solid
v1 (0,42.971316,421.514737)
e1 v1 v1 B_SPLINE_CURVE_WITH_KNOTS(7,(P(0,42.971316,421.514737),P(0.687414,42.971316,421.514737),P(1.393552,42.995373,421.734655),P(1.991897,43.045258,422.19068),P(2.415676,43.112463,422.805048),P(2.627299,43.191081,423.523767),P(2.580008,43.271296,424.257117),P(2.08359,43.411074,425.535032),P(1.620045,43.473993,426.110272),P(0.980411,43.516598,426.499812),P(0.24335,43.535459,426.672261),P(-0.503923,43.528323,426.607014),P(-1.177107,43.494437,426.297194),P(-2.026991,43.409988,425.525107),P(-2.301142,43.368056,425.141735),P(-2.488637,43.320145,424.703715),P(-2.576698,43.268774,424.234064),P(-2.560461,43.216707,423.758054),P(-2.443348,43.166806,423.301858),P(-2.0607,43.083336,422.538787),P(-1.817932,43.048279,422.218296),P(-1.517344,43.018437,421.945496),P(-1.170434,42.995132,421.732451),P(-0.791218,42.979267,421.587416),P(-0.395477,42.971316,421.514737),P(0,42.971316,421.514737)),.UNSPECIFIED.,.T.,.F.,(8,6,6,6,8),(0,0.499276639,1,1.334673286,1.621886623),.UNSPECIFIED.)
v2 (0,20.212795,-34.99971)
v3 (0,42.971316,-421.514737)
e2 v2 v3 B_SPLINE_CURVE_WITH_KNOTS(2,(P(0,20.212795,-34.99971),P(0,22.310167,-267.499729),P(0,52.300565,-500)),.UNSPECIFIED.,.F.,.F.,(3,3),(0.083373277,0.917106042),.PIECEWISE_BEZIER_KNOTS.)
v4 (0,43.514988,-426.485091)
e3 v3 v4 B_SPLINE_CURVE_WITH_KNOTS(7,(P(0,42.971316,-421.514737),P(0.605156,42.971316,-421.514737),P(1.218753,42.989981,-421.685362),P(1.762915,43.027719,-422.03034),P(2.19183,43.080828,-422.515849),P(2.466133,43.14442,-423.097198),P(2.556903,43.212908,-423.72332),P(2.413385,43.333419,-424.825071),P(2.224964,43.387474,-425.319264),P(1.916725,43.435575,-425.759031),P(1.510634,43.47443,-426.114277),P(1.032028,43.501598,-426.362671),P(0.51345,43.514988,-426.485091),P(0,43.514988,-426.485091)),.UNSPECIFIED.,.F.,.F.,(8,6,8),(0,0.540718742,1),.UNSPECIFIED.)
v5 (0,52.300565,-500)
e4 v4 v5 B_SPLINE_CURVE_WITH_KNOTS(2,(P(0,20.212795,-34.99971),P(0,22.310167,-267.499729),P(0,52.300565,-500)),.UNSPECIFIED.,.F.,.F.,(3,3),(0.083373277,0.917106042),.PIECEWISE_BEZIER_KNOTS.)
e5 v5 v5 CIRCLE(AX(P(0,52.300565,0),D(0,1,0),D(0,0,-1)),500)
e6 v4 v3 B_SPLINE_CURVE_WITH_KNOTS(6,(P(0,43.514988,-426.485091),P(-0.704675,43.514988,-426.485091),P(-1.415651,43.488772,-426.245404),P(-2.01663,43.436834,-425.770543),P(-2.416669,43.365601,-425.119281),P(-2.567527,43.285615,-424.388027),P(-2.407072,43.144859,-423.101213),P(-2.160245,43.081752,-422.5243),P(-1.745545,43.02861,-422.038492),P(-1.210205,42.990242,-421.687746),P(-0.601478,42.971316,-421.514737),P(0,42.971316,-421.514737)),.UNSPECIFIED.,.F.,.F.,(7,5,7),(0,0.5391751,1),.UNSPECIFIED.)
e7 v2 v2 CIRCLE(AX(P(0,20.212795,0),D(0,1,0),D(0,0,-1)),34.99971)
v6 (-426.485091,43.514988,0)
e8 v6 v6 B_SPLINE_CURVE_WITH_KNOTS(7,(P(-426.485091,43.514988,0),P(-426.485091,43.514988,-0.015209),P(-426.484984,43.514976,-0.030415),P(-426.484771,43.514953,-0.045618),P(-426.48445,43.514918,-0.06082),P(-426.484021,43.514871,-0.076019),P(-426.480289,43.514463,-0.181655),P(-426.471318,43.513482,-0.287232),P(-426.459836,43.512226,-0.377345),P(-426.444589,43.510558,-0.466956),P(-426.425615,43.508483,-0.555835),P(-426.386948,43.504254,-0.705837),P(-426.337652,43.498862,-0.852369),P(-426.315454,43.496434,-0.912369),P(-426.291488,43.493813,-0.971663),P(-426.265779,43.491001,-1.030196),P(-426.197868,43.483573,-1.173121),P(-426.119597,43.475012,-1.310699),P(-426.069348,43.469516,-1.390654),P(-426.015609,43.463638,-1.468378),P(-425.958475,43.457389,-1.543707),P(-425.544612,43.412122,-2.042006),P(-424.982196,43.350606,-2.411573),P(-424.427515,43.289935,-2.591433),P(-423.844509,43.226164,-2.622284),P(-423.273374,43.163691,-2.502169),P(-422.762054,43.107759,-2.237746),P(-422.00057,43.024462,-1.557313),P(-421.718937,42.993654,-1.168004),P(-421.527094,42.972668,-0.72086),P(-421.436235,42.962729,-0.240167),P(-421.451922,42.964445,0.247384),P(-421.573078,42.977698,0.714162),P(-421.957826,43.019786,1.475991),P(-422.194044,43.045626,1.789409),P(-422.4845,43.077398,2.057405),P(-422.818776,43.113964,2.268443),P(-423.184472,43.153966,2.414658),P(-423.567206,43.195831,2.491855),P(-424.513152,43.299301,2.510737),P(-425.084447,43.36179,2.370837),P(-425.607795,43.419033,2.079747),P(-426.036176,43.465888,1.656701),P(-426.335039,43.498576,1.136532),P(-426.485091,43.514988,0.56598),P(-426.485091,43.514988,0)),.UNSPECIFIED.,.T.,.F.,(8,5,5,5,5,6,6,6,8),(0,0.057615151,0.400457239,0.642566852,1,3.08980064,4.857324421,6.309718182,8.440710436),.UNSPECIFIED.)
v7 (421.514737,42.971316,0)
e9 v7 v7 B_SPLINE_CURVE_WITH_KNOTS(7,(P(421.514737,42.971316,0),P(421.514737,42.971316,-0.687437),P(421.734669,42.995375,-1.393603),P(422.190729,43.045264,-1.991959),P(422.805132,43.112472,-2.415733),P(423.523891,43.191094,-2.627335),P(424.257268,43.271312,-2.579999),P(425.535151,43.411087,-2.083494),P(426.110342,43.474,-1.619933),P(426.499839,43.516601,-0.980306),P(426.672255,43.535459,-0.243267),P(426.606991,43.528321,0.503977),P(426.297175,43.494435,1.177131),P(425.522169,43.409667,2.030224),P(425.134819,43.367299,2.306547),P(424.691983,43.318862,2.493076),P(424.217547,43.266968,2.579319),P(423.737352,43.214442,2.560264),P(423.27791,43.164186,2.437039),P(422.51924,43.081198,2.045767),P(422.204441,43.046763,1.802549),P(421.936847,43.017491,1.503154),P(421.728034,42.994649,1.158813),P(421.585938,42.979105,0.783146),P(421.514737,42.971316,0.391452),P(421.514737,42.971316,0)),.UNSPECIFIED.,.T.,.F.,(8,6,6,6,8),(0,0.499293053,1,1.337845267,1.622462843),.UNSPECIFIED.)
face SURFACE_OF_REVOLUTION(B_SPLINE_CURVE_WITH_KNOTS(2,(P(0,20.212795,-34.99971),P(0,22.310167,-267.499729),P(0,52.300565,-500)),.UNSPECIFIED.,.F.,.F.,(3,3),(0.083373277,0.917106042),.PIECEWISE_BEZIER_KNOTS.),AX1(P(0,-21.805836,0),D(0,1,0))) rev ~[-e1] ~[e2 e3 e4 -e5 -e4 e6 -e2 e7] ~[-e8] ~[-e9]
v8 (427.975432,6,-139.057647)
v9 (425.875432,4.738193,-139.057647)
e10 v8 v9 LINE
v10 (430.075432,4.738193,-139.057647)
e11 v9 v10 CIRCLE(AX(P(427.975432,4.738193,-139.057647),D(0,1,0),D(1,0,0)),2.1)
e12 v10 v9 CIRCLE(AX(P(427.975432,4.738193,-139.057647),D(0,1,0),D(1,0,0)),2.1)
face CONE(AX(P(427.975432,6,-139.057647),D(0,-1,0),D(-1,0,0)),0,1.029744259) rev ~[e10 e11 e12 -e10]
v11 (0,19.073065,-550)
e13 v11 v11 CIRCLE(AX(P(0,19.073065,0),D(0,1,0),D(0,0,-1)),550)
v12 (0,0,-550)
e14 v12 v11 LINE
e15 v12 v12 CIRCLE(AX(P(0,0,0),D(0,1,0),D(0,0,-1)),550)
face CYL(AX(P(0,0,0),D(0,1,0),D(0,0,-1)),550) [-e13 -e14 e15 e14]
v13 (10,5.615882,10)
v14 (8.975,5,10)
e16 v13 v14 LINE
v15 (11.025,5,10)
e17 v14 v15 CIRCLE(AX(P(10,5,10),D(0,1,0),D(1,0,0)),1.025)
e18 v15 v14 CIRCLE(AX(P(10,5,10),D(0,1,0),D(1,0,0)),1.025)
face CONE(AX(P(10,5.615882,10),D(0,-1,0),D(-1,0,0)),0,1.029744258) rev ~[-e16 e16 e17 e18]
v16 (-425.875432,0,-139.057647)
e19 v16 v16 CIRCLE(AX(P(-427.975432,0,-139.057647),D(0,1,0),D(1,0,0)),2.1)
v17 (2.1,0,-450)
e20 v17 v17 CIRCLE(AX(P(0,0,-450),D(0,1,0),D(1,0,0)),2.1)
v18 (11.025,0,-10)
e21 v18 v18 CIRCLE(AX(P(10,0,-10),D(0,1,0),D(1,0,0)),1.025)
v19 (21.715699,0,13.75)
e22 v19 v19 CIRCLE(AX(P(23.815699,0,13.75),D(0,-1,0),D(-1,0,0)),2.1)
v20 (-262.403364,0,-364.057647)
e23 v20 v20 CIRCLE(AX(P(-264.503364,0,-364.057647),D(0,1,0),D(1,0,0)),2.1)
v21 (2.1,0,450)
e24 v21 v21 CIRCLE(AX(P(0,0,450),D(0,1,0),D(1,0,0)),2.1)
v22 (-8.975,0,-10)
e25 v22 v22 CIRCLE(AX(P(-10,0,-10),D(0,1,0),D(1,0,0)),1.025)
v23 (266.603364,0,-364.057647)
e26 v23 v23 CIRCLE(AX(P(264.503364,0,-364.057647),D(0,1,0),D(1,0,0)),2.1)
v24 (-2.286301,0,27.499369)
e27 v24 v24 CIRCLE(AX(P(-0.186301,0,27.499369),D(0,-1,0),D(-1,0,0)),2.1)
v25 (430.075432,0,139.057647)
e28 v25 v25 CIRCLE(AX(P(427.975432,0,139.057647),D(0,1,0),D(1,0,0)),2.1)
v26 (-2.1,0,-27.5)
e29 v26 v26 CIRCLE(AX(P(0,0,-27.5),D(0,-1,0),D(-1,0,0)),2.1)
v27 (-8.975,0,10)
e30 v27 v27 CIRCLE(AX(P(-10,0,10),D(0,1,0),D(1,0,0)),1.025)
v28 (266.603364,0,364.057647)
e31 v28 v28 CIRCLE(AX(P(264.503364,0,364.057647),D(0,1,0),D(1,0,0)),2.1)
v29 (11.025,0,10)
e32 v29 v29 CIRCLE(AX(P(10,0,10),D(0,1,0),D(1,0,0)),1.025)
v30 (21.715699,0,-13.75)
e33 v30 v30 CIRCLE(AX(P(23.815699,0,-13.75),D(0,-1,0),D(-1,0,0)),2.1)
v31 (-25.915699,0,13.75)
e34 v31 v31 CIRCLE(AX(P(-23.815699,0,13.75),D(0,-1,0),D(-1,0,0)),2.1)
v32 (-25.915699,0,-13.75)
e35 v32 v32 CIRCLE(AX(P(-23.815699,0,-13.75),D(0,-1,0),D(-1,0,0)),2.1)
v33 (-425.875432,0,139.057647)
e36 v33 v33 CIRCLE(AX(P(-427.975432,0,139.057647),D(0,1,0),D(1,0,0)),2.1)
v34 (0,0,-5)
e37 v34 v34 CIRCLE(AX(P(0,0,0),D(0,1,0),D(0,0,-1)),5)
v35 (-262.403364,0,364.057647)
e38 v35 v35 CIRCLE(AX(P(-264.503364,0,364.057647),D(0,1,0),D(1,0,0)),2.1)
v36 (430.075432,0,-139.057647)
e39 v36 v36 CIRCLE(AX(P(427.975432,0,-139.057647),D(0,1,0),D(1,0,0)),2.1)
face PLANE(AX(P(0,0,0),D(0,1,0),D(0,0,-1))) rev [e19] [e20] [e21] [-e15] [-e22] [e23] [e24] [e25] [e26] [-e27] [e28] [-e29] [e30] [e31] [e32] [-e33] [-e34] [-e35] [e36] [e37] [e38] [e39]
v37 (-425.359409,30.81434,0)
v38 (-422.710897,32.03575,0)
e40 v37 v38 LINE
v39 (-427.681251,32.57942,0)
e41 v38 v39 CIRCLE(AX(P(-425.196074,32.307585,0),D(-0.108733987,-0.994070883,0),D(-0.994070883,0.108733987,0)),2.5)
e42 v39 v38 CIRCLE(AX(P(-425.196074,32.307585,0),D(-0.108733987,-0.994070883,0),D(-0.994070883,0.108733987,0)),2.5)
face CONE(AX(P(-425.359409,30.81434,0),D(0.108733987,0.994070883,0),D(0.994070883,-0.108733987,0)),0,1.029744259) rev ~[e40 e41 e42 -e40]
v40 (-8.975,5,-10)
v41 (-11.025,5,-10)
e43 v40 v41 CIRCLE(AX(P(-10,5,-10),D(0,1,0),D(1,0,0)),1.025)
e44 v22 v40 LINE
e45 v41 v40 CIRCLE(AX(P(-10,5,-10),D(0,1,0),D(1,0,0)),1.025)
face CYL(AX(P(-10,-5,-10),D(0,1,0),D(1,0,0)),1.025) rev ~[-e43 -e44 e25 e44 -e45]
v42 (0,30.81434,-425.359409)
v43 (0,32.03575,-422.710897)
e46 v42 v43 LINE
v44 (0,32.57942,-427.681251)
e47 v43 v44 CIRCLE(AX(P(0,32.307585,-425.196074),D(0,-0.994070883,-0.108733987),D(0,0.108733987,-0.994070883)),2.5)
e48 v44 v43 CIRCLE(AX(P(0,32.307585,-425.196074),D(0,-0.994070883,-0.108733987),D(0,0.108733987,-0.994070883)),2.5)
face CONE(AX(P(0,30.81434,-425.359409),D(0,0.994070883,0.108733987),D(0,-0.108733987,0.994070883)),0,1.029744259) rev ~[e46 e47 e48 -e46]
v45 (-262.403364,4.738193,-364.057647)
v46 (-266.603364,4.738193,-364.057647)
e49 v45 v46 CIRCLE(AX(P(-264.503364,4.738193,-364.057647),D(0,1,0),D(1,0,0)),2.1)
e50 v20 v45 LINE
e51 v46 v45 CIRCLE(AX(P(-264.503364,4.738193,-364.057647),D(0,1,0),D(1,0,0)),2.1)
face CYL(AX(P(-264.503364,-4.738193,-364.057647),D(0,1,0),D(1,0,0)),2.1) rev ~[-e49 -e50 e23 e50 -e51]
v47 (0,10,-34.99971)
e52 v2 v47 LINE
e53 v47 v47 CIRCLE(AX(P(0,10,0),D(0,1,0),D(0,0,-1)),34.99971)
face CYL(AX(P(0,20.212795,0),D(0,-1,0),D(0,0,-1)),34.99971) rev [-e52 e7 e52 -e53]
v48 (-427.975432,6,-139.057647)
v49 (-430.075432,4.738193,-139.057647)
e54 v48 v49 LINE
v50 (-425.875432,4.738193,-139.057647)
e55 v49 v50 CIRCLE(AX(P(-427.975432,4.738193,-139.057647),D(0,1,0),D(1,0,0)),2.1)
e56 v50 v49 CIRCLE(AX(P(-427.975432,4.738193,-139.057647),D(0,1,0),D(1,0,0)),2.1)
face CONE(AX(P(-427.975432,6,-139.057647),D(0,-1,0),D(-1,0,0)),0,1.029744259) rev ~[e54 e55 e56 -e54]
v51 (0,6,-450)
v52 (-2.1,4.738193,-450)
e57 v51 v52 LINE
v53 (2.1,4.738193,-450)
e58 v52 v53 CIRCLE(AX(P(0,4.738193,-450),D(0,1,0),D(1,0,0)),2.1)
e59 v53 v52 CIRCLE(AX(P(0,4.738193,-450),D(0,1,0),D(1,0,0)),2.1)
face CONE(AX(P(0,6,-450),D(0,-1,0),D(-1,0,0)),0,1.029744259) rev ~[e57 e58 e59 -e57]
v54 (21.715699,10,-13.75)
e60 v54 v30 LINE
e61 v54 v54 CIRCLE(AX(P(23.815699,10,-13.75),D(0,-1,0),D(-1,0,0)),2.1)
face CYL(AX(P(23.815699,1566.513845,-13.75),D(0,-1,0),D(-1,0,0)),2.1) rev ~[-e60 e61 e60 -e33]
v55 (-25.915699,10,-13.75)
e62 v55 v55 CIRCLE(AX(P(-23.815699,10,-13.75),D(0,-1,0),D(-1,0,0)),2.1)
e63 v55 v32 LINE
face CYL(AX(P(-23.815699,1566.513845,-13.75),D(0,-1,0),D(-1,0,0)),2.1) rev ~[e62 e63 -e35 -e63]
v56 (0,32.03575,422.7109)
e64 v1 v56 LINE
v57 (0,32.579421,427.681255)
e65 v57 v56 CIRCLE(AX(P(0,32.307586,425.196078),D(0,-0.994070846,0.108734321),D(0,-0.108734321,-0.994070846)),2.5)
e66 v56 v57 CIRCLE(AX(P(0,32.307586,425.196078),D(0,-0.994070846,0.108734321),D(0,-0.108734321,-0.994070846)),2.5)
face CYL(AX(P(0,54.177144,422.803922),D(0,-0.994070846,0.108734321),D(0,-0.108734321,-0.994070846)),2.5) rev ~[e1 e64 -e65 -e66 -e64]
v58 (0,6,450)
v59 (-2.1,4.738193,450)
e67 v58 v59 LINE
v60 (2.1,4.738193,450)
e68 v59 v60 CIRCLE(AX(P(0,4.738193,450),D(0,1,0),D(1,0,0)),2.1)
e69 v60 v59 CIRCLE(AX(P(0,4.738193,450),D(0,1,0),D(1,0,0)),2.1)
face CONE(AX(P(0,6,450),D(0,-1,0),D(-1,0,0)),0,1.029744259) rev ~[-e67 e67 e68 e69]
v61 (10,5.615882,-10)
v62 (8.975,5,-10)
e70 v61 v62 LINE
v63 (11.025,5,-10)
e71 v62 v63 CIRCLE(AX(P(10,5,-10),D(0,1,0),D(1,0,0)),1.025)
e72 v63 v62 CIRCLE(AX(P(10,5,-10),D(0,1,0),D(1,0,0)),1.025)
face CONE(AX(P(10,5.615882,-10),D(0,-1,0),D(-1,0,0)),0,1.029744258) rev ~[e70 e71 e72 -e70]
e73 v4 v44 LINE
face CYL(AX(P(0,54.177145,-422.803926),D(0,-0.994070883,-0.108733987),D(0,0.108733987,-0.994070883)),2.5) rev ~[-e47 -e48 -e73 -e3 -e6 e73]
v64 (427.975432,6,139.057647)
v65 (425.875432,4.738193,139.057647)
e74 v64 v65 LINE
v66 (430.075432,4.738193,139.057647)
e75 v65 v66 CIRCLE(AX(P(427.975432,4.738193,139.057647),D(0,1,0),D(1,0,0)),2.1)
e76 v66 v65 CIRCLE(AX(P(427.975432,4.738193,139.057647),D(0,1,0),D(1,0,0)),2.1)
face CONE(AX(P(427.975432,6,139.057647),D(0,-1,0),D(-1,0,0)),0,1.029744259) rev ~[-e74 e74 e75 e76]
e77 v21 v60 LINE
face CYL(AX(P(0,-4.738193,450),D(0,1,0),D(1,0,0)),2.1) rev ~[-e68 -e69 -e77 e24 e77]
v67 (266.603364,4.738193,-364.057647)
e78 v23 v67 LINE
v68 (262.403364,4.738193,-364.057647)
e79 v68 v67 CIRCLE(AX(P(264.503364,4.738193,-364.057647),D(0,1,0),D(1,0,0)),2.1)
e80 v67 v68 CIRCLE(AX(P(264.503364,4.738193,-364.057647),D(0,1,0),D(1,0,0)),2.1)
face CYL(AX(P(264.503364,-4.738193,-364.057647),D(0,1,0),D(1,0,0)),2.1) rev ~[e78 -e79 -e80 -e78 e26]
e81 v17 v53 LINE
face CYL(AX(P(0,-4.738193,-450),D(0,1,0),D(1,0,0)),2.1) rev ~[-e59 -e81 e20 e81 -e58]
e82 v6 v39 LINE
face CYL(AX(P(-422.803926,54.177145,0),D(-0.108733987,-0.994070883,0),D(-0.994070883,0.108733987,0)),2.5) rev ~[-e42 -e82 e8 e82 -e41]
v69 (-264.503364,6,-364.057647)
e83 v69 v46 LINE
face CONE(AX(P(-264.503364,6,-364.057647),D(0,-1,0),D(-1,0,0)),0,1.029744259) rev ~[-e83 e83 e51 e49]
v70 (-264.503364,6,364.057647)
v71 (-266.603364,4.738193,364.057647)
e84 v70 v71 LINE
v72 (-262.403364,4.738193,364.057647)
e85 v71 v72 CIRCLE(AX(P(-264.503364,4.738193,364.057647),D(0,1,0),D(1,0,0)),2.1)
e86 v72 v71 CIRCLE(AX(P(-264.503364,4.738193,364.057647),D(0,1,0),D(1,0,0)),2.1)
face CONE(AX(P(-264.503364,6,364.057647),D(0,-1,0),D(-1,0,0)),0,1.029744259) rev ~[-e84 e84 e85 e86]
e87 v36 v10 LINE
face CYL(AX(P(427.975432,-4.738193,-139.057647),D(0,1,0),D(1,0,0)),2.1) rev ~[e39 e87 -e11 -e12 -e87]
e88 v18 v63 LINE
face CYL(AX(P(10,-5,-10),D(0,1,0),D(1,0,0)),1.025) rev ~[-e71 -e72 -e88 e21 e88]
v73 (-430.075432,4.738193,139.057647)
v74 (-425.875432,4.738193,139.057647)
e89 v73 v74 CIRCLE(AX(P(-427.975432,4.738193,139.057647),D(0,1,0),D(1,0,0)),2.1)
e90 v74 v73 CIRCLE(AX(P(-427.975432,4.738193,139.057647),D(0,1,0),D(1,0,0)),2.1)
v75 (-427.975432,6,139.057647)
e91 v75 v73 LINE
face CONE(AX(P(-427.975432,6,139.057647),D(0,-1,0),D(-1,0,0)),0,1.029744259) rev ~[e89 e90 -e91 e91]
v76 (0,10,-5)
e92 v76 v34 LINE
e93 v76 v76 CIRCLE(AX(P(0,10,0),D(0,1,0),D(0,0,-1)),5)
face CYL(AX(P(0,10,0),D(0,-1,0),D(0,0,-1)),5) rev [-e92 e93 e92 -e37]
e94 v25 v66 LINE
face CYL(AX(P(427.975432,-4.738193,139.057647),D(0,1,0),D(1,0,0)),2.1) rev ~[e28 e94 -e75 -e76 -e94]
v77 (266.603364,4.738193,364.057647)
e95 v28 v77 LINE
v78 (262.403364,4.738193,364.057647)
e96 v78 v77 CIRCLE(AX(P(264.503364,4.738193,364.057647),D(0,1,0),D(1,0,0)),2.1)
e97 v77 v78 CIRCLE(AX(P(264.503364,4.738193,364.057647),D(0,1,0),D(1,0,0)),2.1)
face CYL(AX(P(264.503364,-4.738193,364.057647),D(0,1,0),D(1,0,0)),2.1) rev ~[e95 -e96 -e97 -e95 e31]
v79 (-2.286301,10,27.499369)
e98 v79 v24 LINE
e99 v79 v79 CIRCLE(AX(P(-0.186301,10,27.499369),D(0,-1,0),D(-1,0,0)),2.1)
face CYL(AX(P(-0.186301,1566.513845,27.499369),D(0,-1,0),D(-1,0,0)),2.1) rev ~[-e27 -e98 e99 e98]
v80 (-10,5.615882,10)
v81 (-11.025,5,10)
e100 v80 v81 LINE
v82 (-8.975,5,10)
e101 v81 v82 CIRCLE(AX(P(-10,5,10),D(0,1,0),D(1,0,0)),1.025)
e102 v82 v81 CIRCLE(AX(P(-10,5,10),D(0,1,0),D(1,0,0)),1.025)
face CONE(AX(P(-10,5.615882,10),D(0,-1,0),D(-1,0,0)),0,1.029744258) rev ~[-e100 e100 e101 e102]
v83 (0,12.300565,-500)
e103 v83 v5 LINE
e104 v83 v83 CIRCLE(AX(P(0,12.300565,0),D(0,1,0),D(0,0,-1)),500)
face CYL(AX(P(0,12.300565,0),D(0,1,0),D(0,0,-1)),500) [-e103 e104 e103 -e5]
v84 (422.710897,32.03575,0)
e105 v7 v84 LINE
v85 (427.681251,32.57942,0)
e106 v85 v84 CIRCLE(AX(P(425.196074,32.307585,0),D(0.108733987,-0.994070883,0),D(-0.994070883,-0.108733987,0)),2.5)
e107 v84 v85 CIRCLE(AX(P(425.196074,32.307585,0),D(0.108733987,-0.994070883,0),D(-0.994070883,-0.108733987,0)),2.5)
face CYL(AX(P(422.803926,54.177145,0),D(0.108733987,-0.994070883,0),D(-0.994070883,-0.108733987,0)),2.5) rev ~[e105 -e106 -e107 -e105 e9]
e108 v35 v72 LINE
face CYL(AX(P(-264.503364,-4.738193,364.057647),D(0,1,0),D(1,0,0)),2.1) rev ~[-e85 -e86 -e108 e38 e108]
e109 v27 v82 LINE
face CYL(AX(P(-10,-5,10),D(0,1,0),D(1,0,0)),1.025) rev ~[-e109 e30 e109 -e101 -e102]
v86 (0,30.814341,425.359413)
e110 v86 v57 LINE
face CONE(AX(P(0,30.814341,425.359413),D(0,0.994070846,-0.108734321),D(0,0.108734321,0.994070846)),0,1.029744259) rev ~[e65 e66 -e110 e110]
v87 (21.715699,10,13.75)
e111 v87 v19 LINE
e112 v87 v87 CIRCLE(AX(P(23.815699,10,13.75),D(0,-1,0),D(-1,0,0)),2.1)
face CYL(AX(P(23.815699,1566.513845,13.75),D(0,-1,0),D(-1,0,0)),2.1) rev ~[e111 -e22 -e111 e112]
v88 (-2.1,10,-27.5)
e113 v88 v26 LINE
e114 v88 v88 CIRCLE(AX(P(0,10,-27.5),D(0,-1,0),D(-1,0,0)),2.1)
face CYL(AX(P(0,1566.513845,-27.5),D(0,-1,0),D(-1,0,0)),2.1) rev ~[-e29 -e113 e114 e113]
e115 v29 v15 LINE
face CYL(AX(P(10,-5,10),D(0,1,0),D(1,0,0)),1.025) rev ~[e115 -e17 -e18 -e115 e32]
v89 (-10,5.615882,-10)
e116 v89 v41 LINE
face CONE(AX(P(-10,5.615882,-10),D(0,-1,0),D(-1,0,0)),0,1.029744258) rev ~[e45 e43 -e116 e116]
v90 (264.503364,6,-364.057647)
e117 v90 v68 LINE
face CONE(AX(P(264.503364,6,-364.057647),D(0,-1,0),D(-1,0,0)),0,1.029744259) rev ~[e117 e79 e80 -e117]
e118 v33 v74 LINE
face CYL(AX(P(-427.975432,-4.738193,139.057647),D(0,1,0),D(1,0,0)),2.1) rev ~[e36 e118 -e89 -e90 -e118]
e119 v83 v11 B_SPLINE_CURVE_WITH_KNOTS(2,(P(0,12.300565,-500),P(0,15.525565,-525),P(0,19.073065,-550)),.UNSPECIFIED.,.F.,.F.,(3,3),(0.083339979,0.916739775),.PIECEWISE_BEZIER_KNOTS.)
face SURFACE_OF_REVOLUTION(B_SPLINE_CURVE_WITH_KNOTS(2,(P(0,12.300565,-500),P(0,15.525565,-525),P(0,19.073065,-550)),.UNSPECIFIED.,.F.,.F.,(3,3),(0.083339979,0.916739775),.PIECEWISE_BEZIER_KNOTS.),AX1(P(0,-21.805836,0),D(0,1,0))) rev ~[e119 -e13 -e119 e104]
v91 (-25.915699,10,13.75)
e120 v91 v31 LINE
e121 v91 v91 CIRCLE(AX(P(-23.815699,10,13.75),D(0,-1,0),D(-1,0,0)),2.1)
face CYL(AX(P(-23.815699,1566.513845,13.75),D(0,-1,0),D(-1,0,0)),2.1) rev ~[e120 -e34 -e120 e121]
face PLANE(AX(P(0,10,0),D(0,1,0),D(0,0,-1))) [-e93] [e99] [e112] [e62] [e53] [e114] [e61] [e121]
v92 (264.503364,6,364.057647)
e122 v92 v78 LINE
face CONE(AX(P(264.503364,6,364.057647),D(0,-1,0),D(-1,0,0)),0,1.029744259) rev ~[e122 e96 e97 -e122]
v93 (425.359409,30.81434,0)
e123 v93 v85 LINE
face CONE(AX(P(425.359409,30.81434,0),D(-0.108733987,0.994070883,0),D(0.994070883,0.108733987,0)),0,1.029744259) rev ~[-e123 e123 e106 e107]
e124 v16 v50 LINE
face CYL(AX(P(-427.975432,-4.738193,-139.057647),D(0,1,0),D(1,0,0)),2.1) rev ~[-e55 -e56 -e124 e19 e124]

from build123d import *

# Parameters (mm, degrees)
HOLE_WIZARD_M51_D               = 4.2
HOLE_WIZARD_M52_D               = 4.2
HOLE_WIZARD_M52_DEPTH           = 4.7381927
HOLE_WIZARD_M52_TIP             = 1.2618073
HOLE_WIZARD_M2_51_D             = 2.05
HOLE_WIZARD_M2_51_DEPTH         = 5
HOLE_WIZARD_M2_51_TIP           = 0.615882135
HOLE_WIZARD_M61_D               = 5
HOLE_WIZARD_M61_DEPTH           = 11
HOLE_WIZARD_M61_TIP             = 1.502151548
HOLE_WIZARD_M61_ON_FACE_2_D     = 5
HOLE_WIZARD_M61_ON_FACE_2_DEPTH = 11
HOLE_WIZARD_M61_ON_FACE_2_TIP   = 1.502151548
HOLE_WIZARD_M61_ON_FACE_3_D     = 5
HOLE_WIZARD_M61_ON_FACE_3_DEPTH = 11
HOLE_WIZARD_M61_ON_FACE_3_TIP   = 1.502151548
HOLE_WIZARD_M61_ON_FACE_4_D     = 5
HOLE_WIZARD_M61_ON_FACE_4_DEPTH = 11
HOLE_WIZARD_M61_ON_FACE_4_TIP   = 1.502151548


with BuildPart() as part:
    # Эскиз1 → Повернуть1 (revolve)
    with BuildSketch(Plane(origin=(0, 0, 0), x_dir=(0, 0, -1), z_dir=(1, 0, 0))):
        with BuildLine():
            Line((5, 0), (549.999999997, 0))
            Line((549.999999997, 0), (549.999999997, 19.073064686))
            add(Edge.make_bspline(
                [(500, 12.300564646), (524.999999998, 15.525564666), (549.999999997, 19.073064686)],
                knots=[0.083339979, 0.083339979, 0.083339979, 0.916739775, 0.916739775, 0.916739775], degree=2))
            Line((500, 12.300564646), (500, 52.300564646))
            add(Edge.make_bspline(
                [(34.999709859, 20.212795007), (267.499728801, 22.310167332), (500, 52.300564646)],
                knots=[0.083373277, 0.083373277, 0.083373277, 0.917106042, 0.917106042, 0.917106042], degree=2))
            Line((34.999709859, 20.212795007), (34.999709859, 10))
            Line((34.999709859, 10), (5, 10))
            Line((5, 10), (5, 0))
        make_face()
    revolve(axis=Axis((0, -21.80583565, 0), (0, 1, 0)))

    # Отверстие обработанное метчиком M51 (through all)
    with Locations(Plane(origin=(0, 10, 0), x_dir=(1, 0, 0), z_dir=(0, 1, 0))):
        with Locations((-23.815698604, 13.75), (0, 27.5), (23.815698604, 13.75), (23.815698604, -13.75), (-0.186300957, -27.499368937), (-23.815698604, -13.75)):
            Hole(HOLE_WIZARD_M51_D / 2)

    # Отверстие обработанное метчиком M52
    with Locations(Plane(origin=(0, 0, 0), x_dir=(-1, 0, 0), z_dir=(0, -1, 0))):
        with Locations((0, -450), (264.503363532, -364.057647469), (427.975432333, -139.057647469), (427.975432333, 139.057647469), (264.503363532, 364.057647469), (0, 450), (-264.503363532, 364.057647469), (-427.975432333, 139.057647469), (-427.975432333, -139.057647469), (-264.503363532, -364.057647469)):
            Hole(HOLE_WIZARD_M52_D / 2, depth=HOLE_WIZARD_M52_DEPTH)
            with Locations((0, 0, -(HOLE_WIZARD_M52_DEPTH + HOLE_WIZARD_M52_TIP / 2))):  # 118° drill point
                Cone(0, HOLE_WIZARD_M52_D / 2, HOLE_WIZARD_M52_TIP, mode=Mode.SUBTRACT)

    # Отверстие обработанное метчиком M2.51
    with Locations(Plane(origin=(0, 0, 0), x_dir=(-1, 0, 0), z_dir=(0, -1, 0))):
        with Locations((10, -10), (-10, -10), (-10, 10), (10, 10)):
            Hole(HOLE_WIZARD_M2_51_D / 2, depth=HOLE_WIZARD_M2_51_DEPTH)
            with Locations((0, 0, -(HOLE_WIZARD_M2_51_DEPTH + HOLE_WIZARD_M2_51_TIP / 2))):  # 118° drill point
                Cone(0, HOLE_WIZARD_M2_51_D / 2, HOLE_WIZARD_M2_51_TIP, mode=Mode.SUBTRACT)

    # Отверстие обработанное метчиком M61
    with Locations(Plane(origin=(0, 43.242364935, 424), x_dir=(0, 0.10873432129, 0.994070846255), z_dir=(0, 0.994070846255, -0.10873432129))):
        with Locations((0, 0)):
            Hole(HOLE_WIZARD_M61_D / 2, depth=HOLE_WIZARD_M61_DEPTH)
            with Locations((0, 0, -(HOLE_WIZARD_M61_DEPTH + HOLE_WIZARD_M61_TIP / 2))):  # 118° drill point
                Cone(0, HOLE_WIZARD_M61_D / 2, HOLE_WIZARD_M61_TIP, mode=Mode.SUBTRACT)

    # Отверстие обработанное метчиком M61 on face 2
    with Locations(Plane(origin=(0, 43.242364935, -424), x_dir=(0, -0.10873398718, 0.994070882801), z_dir=(0, 0.994070882801, 0.10873398718))):
        with Locations((0, 0)):
            Hole(HOLE_WIZARD_M61_ON_FACE_2_D / 2, depth=HOLE_WIZARD_M61_ON_FACE_2_DEPTH)
            with Locations((0, 0, -(HOLE_WIZARD_M61_ON_FACE_2_DEPTH + HOLE_WIZARD_M61_ON_FACE_2_TIP / 2))):  # 118° drill point
                Cone(0, HOLE_WIZARD_M61_ON_FACE_2_D / 2, HOLE_WIZARD_M61_ON_FACE_2_TIP, mode=Mode.SUBTRACT)

    # Отверстие обработанное метчиком M61 on face 3
    with Locations(Plane(origin=(-424, 43.242364935, 0), x_dir=(0.994070882801, -0.10873398718, 0), z_dir=(0.10873398718, 0.994070882801, 0))):
        with Locations((0, 0)):
            Hole(HOLE_WIZARD_M61_ON_FACE_3_D / 2, depth=HOLE_WIZARD_M61_ON_FACE_3_DEPTH)
            with Locations((0, 0, -(HOLE_WIZARD_M61_ON_FACE_3_DEPTH + HOLE_WIZARD_M61_ON_FACE_3_TIP / 2))):  # 118° drill point
                Cone(0, HOLE_WIZARD_M61_ON_FACE_3_D / 2, HOLE_WIZARD_M61_ON_FACE_3_TIP, mode=Mode.SUBTRACT)

    # Отверстие обработанное метчиком M61 on face 4
    with Locations(Plane(origin=(424, 43.242364935, 0), x_dir=(0.994070882801, 0.10873398718, 0), z_dir=(-0.10873398718, 0.994070882801, 0))):
        with Locations((0, 0)):
            Hole(HOLE_WIZARD_M61_ON_FACE_4_D / 2, depth=HOLE_WIZARD_M61_ON_FACE_4_DEPTH)
            with Locations((0, 0, -(HOLE_WIZARD_M61_ON_FACE_4_DEPTH + HOLE_WIZARD_M61_ON_FACE_4_TIP / 2))):  # 118° drill point
                Cone(0, HOLE_WIZARD_M61_ON_FACE_4_D / 2, HOLE_WIZARD_M61_ON_FACE_4_TIP, mode=Mode.SUBTRACT)


solid = part.part
